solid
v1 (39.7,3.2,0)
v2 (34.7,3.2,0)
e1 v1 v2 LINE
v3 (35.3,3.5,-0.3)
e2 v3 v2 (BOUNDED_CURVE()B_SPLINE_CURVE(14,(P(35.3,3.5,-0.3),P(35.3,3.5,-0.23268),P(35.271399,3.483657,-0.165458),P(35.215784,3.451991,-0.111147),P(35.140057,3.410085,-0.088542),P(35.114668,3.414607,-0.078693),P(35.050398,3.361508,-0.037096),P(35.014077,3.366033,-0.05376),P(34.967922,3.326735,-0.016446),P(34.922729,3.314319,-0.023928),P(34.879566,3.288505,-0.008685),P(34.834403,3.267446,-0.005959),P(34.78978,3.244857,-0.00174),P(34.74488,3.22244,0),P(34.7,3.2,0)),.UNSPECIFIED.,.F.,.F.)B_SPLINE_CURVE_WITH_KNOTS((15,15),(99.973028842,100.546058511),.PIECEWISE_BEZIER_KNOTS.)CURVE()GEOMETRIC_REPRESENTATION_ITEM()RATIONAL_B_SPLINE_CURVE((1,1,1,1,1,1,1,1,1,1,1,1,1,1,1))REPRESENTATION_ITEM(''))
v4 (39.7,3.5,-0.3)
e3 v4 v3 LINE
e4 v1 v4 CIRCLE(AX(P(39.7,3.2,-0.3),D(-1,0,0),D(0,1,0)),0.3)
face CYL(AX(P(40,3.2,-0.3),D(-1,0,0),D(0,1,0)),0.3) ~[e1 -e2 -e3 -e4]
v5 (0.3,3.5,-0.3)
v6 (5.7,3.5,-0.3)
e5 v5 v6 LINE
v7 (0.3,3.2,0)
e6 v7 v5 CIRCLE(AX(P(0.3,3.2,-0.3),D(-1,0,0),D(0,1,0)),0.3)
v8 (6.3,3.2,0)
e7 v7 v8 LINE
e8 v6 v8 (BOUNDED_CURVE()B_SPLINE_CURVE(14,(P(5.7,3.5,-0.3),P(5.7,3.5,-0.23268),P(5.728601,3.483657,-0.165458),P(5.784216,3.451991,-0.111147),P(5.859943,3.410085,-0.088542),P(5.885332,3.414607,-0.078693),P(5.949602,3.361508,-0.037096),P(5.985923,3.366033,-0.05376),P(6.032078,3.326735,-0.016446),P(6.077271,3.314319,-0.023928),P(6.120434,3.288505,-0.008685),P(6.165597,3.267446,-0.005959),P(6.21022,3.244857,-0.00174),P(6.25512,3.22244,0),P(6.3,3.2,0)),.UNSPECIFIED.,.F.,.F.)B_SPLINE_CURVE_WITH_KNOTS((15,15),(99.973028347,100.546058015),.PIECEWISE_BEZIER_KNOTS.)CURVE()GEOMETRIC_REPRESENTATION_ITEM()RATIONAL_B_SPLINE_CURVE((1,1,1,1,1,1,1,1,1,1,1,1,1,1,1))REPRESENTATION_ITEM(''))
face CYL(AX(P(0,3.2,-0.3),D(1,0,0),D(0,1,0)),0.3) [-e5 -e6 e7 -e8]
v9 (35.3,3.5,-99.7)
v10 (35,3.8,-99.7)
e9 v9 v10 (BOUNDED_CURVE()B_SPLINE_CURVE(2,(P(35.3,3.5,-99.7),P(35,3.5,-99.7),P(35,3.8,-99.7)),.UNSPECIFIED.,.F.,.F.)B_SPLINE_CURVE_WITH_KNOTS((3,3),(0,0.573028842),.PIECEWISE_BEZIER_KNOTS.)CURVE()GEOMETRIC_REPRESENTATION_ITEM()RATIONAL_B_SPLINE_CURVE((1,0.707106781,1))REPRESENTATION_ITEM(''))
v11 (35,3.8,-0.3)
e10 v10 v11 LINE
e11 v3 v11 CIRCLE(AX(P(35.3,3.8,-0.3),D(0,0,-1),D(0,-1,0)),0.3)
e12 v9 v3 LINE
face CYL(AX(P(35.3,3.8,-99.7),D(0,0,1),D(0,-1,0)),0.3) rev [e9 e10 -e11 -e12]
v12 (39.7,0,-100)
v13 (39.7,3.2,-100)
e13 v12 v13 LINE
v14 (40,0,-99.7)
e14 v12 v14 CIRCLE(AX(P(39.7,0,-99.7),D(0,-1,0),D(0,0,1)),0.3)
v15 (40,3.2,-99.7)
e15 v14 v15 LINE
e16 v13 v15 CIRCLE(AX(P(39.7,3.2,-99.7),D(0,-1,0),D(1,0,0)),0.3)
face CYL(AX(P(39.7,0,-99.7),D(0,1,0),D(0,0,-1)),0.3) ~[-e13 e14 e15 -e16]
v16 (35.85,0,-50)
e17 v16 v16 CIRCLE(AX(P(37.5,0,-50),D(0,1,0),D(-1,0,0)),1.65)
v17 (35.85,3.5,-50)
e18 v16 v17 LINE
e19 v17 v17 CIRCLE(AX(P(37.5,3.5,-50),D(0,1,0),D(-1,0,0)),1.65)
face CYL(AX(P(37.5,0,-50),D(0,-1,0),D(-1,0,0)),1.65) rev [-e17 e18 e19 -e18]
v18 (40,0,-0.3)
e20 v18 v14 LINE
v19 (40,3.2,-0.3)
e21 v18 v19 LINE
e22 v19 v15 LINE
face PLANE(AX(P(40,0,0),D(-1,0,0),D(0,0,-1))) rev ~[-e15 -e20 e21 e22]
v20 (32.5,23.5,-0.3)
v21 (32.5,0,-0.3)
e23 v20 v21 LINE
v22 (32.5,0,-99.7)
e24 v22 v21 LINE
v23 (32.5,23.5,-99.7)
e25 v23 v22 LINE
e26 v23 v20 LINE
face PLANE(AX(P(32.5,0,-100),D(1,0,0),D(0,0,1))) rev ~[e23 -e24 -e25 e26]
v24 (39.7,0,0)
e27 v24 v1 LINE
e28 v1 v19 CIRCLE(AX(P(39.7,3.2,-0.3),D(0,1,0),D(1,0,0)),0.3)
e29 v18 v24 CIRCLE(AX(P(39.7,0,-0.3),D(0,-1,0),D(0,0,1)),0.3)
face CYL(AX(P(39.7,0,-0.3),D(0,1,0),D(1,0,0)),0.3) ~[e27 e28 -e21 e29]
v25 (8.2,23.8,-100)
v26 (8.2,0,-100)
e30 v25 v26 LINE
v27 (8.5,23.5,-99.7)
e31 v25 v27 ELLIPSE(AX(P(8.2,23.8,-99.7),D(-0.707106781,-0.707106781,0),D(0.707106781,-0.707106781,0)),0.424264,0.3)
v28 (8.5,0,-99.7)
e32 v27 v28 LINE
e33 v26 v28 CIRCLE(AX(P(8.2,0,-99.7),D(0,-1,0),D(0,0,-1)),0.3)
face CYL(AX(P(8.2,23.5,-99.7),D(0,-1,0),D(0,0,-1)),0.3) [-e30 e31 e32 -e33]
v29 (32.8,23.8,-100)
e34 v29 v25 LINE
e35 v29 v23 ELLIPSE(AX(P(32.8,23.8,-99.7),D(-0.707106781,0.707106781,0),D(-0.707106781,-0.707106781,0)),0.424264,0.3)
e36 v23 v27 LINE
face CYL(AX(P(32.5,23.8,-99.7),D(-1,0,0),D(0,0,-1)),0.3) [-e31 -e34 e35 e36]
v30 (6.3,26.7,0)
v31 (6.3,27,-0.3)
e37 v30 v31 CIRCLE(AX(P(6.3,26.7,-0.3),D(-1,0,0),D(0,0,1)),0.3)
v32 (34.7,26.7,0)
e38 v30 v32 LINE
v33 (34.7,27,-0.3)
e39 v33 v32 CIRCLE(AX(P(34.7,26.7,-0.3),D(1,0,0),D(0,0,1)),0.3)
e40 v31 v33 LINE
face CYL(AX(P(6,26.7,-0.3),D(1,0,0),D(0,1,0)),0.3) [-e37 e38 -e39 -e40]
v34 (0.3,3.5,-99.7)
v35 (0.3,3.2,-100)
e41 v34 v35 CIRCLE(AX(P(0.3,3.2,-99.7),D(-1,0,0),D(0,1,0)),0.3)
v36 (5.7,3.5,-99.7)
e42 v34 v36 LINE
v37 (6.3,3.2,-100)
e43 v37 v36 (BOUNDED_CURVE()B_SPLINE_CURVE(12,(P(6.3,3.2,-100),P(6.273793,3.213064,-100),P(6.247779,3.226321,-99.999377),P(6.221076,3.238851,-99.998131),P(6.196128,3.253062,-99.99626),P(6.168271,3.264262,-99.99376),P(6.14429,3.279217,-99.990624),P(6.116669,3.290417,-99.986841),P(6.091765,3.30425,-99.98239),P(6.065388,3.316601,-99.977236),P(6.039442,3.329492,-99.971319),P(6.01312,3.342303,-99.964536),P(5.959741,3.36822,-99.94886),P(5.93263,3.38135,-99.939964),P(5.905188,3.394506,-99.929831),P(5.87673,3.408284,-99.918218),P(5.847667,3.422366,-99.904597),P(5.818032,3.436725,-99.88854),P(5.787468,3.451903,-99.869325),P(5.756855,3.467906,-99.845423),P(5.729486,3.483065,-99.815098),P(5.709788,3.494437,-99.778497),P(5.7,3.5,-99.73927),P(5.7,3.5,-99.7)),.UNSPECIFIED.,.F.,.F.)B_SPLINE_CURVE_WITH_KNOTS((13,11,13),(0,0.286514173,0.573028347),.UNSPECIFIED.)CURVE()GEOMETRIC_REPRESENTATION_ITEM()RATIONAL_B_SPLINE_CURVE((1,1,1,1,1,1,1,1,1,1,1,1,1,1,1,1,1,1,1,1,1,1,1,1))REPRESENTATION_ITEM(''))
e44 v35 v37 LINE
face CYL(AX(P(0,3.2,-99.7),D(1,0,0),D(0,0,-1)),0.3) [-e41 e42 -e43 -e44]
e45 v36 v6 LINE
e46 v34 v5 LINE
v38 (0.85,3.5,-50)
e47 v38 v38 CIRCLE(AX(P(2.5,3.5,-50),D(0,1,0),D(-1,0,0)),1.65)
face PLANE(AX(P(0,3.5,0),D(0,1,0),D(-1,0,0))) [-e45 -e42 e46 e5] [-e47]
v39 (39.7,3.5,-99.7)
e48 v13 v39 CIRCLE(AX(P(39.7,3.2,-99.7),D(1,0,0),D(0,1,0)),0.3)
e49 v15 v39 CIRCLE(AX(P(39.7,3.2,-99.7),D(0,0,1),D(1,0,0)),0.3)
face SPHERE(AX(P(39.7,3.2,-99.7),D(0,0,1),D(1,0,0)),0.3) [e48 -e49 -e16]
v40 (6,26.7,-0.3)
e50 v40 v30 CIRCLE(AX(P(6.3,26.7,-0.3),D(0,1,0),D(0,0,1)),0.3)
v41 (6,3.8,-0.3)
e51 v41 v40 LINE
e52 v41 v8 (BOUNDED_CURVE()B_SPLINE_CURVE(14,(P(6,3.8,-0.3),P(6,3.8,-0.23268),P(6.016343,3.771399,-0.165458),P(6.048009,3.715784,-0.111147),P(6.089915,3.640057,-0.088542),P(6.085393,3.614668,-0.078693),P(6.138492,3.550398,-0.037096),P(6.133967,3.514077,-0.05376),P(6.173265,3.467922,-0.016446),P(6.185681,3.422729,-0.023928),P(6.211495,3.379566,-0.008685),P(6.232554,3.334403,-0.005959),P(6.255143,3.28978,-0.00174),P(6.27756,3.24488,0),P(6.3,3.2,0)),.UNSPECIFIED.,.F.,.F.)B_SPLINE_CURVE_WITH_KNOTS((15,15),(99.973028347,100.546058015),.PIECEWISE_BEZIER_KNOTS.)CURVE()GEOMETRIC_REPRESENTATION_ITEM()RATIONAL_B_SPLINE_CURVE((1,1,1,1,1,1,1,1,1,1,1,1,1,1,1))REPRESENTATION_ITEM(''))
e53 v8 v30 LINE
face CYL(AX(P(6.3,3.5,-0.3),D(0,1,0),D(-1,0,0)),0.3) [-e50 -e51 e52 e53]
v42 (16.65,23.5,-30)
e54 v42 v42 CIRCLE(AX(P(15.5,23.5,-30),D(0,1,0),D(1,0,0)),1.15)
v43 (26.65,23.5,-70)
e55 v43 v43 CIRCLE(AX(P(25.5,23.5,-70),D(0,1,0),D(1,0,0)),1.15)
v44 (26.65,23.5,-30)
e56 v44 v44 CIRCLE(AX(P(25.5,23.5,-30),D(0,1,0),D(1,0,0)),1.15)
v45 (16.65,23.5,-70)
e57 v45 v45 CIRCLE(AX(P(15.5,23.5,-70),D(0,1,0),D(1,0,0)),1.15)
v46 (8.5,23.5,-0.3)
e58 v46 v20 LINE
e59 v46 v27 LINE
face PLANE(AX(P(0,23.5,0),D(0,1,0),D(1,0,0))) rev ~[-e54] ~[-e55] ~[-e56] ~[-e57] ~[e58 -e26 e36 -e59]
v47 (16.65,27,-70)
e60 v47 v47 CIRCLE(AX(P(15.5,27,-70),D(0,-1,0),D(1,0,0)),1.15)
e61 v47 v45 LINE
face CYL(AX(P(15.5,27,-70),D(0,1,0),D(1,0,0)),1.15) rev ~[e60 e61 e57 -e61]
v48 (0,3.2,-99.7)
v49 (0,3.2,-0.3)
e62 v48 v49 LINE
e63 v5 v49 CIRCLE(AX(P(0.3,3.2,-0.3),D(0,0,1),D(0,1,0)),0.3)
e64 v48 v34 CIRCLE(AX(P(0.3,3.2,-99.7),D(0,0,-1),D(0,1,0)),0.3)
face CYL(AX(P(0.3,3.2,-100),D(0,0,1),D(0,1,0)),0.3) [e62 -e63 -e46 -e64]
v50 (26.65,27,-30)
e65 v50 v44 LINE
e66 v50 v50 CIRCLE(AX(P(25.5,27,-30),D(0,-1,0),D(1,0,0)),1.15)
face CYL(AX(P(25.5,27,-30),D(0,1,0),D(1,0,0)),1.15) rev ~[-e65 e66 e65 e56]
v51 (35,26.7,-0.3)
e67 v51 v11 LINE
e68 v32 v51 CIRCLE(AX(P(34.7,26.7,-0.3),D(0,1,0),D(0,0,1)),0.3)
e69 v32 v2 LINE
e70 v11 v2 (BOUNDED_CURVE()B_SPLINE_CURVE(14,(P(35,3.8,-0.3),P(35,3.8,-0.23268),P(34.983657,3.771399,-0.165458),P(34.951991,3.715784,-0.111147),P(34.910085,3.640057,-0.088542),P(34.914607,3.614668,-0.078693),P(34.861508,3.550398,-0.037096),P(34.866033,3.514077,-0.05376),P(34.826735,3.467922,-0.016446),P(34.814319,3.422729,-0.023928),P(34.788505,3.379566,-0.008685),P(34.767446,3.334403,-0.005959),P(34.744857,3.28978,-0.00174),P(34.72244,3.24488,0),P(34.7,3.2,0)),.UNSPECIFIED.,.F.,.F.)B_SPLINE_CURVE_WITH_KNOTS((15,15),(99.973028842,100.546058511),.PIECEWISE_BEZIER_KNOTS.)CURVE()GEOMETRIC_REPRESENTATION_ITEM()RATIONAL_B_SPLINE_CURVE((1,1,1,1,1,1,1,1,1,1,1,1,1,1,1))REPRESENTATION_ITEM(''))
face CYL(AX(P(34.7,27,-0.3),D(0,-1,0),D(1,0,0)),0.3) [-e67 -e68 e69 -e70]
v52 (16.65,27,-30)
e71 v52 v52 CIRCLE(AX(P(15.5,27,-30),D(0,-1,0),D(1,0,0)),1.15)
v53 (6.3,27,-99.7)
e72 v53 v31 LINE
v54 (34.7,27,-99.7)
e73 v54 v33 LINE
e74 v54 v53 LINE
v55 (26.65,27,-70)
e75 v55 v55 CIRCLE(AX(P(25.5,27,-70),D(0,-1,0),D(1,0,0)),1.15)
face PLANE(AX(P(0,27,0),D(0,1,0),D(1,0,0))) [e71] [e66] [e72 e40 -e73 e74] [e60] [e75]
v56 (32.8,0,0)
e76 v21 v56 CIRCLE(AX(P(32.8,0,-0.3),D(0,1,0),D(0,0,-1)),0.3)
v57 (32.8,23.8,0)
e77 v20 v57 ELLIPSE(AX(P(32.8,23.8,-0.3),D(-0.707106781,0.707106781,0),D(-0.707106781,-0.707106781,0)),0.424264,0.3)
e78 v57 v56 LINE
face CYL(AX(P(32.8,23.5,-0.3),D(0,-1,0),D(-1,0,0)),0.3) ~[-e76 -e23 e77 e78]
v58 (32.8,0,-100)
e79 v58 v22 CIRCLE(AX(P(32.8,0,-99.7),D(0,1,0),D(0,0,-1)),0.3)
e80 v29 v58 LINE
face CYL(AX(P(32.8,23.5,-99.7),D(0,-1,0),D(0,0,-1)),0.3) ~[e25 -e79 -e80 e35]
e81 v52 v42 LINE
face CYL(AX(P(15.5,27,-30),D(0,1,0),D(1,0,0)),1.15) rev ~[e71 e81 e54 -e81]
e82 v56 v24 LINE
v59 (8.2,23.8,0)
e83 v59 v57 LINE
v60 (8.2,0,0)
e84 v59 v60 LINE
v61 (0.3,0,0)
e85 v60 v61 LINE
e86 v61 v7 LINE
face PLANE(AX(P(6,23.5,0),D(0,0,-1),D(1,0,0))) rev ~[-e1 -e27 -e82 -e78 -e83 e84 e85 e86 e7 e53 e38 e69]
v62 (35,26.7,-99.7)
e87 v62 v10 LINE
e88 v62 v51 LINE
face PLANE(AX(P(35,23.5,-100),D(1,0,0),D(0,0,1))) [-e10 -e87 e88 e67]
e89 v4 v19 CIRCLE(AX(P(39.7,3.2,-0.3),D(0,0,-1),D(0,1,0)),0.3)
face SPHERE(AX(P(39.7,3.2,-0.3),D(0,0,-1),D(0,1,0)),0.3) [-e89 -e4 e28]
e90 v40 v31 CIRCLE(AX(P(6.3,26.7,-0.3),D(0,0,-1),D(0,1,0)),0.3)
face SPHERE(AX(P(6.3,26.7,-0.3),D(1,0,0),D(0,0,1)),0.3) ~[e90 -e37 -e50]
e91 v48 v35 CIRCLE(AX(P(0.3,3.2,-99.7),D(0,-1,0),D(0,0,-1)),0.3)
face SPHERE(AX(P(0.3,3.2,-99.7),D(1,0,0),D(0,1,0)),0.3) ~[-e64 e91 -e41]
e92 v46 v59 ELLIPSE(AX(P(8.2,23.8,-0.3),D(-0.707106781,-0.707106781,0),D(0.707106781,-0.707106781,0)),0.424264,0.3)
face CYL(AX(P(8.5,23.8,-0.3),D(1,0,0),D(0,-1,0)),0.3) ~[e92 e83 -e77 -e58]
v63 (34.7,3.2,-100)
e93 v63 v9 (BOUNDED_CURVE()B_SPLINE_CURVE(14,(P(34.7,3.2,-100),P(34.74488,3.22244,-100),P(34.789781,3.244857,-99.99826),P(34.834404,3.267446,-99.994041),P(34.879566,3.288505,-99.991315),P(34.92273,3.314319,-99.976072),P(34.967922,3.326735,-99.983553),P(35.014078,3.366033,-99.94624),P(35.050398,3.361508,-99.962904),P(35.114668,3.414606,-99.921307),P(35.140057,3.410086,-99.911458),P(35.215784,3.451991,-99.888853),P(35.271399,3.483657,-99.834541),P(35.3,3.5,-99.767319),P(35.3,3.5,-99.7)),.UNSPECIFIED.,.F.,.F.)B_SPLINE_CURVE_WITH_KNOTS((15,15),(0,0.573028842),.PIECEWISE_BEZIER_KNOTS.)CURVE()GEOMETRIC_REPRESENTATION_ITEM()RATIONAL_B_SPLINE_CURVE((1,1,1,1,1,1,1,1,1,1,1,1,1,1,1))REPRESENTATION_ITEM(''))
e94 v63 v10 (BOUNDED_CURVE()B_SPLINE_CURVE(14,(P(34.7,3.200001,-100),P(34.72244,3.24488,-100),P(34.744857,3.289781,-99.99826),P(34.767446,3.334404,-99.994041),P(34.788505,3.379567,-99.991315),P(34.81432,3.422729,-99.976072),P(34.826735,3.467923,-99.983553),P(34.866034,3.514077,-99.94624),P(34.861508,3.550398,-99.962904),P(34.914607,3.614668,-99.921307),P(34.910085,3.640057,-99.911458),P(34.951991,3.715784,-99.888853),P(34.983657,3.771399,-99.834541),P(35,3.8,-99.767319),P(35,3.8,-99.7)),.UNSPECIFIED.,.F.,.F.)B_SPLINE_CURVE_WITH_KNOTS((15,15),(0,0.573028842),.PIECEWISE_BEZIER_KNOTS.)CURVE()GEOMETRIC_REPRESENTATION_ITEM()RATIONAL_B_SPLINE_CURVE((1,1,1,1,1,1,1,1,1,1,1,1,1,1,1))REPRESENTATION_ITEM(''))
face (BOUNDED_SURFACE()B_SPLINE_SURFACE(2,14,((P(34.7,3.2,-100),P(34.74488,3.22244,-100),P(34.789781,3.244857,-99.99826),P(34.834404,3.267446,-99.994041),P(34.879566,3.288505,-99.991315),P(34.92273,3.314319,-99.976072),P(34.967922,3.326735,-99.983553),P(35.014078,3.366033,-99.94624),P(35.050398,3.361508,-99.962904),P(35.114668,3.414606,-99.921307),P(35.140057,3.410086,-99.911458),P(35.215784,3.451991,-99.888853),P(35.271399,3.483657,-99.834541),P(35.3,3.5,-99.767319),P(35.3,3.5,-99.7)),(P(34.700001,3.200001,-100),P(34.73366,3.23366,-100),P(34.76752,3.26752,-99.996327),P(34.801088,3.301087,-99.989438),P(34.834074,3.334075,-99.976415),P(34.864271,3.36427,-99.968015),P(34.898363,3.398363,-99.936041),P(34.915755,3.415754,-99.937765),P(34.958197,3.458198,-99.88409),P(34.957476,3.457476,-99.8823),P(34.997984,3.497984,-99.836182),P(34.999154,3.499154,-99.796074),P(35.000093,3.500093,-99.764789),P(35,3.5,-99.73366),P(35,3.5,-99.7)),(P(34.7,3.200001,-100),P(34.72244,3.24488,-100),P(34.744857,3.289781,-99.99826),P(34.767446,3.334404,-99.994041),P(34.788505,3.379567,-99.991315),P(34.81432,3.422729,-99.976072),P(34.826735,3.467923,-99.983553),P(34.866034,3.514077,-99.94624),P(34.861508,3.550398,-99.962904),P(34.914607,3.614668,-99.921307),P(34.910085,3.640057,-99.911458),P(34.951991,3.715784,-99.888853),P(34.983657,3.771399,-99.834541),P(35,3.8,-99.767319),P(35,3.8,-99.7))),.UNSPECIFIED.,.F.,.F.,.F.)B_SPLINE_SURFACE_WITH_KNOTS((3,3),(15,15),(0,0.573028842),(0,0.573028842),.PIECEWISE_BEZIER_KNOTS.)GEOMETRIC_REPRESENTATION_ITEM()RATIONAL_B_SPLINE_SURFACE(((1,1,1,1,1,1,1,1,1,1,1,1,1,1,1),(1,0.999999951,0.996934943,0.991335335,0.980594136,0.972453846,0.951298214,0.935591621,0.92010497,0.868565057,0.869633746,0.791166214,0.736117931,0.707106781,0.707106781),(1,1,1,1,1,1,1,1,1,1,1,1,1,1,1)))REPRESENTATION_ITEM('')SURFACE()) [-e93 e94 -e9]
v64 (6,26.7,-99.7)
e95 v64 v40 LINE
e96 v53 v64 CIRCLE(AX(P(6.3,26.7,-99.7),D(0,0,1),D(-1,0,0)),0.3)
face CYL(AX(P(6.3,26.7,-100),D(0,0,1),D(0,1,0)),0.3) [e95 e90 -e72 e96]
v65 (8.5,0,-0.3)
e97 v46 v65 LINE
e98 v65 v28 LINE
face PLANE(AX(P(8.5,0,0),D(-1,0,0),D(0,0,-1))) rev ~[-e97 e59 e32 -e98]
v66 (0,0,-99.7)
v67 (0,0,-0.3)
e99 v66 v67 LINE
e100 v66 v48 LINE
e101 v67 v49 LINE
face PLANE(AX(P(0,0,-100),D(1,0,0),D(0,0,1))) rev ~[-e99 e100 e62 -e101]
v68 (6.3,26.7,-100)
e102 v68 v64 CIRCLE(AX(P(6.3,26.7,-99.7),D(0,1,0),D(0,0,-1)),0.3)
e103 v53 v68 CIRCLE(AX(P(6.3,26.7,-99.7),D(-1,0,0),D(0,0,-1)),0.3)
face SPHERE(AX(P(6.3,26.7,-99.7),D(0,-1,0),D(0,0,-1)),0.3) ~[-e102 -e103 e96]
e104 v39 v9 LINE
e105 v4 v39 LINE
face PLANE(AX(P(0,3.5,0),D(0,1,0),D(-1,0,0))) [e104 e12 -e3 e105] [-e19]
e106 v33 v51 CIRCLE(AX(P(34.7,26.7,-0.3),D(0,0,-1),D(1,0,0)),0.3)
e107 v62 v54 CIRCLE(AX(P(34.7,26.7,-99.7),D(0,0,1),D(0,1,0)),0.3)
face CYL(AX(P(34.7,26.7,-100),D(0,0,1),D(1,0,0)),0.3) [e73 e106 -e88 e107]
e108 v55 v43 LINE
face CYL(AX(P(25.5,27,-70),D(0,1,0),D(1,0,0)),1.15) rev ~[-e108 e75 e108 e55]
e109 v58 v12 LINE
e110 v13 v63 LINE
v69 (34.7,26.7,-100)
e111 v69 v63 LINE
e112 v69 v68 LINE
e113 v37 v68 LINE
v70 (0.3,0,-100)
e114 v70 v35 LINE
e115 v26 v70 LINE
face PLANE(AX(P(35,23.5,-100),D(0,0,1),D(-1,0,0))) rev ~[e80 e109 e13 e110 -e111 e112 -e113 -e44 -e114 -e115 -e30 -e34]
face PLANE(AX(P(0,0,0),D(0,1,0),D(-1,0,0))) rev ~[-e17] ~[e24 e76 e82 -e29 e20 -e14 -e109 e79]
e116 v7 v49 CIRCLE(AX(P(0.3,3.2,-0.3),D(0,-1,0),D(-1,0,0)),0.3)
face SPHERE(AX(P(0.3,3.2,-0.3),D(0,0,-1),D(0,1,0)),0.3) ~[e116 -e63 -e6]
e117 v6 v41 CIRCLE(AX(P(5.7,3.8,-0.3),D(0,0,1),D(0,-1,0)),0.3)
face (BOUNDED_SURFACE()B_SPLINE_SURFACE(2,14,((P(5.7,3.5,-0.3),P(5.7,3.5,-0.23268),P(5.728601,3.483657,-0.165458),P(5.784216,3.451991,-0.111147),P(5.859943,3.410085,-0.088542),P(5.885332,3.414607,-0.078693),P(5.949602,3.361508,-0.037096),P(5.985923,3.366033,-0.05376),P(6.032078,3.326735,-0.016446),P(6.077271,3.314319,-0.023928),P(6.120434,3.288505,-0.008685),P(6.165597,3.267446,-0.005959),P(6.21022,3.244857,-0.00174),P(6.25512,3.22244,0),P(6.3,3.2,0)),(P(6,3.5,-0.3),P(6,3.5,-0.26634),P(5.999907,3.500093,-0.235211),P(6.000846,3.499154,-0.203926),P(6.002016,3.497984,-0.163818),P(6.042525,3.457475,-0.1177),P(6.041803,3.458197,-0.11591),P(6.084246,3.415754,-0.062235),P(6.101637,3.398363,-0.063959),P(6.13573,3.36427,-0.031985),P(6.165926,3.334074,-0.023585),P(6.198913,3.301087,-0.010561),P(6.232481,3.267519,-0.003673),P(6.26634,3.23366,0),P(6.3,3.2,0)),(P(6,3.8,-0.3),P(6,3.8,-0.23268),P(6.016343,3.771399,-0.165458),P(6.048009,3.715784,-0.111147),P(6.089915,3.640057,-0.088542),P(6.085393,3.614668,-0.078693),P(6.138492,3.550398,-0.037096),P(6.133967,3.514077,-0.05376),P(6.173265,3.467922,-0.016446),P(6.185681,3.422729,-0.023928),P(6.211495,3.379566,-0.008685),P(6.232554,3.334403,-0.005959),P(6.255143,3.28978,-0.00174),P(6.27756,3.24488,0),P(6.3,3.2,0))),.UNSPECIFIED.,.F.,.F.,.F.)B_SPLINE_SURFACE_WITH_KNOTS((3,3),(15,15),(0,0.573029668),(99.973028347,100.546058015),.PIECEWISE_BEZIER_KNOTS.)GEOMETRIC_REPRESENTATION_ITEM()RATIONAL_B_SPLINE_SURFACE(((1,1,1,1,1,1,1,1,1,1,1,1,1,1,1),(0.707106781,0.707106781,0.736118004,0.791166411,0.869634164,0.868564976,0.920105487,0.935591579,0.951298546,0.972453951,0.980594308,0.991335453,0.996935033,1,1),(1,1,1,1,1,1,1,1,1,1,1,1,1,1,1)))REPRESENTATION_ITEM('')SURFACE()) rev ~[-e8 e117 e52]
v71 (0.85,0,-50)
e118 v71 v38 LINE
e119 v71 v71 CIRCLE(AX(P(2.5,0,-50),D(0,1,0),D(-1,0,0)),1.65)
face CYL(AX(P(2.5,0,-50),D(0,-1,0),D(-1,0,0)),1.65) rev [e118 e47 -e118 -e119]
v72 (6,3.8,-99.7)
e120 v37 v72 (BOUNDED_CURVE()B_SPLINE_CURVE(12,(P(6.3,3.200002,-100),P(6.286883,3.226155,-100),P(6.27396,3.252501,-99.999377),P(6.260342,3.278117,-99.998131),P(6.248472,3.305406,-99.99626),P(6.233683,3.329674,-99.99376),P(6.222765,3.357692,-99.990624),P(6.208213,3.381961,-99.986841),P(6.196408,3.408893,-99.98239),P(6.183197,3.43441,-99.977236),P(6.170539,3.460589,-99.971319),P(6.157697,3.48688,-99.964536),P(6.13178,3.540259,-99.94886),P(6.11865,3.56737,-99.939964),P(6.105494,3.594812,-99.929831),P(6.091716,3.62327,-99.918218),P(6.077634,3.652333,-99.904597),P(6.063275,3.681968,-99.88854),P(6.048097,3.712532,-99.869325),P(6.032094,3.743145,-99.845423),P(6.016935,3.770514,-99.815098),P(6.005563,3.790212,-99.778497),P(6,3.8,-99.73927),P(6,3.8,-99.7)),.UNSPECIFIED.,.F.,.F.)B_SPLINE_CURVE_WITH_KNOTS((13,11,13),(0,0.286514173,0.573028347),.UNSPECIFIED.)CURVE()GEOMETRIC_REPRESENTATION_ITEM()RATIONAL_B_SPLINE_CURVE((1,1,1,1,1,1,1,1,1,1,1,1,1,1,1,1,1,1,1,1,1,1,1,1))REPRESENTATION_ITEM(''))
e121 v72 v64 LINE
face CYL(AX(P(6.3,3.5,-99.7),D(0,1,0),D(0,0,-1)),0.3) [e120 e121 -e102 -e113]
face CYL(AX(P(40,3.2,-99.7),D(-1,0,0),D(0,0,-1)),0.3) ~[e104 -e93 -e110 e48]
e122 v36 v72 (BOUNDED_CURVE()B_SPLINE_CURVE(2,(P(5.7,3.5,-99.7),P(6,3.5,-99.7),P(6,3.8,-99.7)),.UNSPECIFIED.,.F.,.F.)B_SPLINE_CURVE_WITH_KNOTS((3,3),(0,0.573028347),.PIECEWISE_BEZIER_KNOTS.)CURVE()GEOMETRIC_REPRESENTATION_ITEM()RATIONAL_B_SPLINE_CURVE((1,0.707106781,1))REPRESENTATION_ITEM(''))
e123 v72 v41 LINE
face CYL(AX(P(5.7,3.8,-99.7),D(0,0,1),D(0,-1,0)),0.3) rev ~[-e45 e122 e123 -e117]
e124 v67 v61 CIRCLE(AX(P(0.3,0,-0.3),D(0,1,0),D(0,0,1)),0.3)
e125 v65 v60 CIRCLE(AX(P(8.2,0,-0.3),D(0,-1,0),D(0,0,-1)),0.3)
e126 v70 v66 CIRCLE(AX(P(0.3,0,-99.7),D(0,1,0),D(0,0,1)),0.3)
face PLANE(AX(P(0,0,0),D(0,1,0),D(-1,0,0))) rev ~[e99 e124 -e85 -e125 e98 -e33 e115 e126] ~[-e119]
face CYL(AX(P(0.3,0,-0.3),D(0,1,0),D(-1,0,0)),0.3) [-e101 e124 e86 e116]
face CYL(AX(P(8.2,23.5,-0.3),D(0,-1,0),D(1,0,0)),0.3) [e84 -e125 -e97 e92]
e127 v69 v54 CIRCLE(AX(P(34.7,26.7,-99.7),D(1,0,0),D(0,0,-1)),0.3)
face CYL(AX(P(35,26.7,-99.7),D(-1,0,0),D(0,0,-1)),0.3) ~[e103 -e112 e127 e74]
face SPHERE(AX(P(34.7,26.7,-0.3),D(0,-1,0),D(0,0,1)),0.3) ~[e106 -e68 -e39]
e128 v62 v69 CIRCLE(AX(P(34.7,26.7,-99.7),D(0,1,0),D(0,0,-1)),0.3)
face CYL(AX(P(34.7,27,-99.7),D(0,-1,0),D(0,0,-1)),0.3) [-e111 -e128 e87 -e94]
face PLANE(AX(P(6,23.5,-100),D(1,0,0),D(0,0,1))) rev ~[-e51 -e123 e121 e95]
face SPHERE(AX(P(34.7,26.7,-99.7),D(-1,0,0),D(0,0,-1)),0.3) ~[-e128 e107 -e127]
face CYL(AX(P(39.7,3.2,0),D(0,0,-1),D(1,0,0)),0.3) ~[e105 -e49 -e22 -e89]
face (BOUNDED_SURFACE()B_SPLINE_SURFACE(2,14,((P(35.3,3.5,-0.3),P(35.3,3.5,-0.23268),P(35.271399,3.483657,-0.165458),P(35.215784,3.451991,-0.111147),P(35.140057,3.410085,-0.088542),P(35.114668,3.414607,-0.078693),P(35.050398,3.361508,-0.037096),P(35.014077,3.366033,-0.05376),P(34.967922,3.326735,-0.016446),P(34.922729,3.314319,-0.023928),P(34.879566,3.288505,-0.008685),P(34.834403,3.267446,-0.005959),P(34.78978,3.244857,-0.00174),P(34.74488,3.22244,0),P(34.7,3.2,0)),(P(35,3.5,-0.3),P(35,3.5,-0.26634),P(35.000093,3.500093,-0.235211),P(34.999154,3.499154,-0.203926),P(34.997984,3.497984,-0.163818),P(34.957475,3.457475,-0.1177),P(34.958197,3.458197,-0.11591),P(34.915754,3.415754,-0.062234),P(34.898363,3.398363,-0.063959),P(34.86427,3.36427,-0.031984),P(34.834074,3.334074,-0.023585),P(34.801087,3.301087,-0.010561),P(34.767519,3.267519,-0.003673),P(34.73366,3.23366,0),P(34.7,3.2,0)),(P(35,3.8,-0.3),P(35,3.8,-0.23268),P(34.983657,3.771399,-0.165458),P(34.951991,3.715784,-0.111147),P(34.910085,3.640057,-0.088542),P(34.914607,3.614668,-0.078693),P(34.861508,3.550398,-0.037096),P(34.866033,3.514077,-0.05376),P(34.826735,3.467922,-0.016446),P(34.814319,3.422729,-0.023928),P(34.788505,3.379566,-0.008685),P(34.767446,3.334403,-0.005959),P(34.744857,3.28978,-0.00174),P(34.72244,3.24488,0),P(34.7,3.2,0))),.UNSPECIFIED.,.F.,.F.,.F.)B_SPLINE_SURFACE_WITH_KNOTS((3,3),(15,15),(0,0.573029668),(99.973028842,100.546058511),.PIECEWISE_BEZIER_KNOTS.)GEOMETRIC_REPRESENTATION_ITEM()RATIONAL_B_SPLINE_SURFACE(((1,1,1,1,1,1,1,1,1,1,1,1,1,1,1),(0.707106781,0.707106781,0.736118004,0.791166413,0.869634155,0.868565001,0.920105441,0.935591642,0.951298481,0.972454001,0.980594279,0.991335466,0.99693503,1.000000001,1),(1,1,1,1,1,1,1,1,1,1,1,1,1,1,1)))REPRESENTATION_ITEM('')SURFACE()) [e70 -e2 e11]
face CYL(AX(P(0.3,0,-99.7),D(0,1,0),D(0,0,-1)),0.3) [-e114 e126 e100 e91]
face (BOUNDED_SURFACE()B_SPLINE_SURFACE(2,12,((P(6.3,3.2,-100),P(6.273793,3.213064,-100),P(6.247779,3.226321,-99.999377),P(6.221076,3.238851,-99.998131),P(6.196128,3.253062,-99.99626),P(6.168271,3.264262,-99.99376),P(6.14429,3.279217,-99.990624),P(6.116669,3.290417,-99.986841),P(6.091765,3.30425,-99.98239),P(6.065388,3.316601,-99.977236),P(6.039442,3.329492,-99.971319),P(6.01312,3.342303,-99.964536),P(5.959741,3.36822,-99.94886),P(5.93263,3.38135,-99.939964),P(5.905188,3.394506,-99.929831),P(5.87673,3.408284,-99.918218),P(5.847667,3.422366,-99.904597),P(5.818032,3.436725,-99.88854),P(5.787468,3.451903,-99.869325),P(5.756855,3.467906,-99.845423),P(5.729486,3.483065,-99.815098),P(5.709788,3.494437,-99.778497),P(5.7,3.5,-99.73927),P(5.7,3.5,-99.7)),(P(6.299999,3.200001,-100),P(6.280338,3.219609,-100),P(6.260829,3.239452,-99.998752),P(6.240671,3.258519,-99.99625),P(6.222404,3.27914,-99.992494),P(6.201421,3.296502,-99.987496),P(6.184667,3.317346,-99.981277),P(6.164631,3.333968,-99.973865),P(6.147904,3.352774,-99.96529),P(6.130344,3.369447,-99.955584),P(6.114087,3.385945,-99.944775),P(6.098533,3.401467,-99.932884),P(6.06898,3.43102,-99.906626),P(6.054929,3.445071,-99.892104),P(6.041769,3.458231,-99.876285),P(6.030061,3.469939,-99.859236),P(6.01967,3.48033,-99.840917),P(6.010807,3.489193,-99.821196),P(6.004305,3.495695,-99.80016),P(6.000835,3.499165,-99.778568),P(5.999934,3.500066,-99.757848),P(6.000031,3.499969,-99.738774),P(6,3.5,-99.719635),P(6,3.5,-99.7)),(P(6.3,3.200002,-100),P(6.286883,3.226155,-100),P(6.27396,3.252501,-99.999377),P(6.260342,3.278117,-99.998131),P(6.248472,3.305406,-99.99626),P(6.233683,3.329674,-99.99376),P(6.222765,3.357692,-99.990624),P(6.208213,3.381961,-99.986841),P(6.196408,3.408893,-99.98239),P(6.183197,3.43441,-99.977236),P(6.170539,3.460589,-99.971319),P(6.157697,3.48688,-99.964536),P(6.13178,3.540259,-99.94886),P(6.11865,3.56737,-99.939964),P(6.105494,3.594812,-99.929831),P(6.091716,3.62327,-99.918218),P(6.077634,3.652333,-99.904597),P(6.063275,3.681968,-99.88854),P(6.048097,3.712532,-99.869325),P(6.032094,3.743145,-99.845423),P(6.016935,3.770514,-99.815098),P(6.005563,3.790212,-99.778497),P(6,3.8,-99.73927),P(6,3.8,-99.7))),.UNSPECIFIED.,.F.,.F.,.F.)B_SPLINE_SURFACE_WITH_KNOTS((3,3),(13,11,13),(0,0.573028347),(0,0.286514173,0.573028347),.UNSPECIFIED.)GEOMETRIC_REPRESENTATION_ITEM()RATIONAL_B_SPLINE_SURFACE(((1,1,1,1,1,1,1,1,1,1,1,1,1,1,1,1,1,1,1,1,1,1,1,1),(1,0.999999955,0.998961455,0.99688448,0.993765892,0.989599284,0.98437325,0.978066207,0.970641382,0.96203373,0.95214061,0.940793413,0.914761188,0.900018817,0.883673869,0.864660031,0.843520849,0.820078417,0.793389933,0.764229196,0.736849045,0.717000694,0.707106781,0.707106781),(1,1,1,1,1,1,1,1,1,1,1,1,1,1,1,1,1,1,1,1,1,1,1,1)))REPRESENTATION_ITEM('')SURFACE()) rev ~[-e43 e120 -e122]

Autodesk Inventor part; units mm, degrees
ref_plane "YZ Plane" through (0, 0, 0) normal (1, 0, 0) x (0, 1, 0)
ref_plane "XZ Plane" through (0, 0, 0) normal (0, 1, 0) x (-1, 0, 0)
ref_plane "XY Plane" through (0, 0, 0) normal (0, 0, 1) x (1, 0, 0)
sketch "Sketch1" plane through (0, 0, 0) normal (0, 1, 0) x (-1, 0, 0)
  line L0 (-40, 0) -> (-40, -100)
  line L1 (0, -100) -> (0, 0)
  line L2 (-35, 0) -> (-35, -100)
  line L3 (-6, -100) -> (-6, 0)
  circle A0 centre (-2.5, -50) radius 1.65
  circle A1 centre (-37.5, -50) radius 1.65
  line L4 (0, 0) -> (-8.5, 0)
  line L5 (-32.5, 0) -> (-40, 0)
  line L6 (-40, -100) -> (-32.5, -100)
  line L7 (-8.5, -100) -> (0, -100)
  line L8 (-8.5, 0) -> (-8.5, -100)
  line L9 (-32.5, -100) -> (-32.5, 0)
  dimension "d4" = 3.3
  dimension "d5" = 3.3
  dimension "d8" = 2.5
  dimension "d9" = 2.5
extrude "Extrusion1" add sketch "Sketch1" along normal blind 3.5
sketch "Sketch2" plane through (0, 3.5, 0) normal (0, 1, 0) x (1, 0, 0)
  line L0 (8.5, 100) -> (0, 100) projected
  line L1 (8.5, 100) -> (6, 100)
  line L2 (6, 100) -> (6, 0)
  line L3 (6, 0) -> (8.5, 0)
  line L4 (8.5, 0) -> (8.5, 100)
  line L5 (32.5, 100) -> (32.5, 0) projected
  line L6 (32.5, 100) -> (35, 100)
  line L7 (35, 100) -> (35, 0)
  line L8 (35, 0) -> (32.5, 0)
  line L9 (32.5, 0) -> (32.5, 100)
  point P0 (0, 0)
  point P1 (32.5, 0)
  point P2 (6, 100)
  dimension "d10" = 2.5
  dimension "d11" = 100
  dimension "d12" = 2.5
  dimension "d13" = 100
extrude "Extrusion2" add sketch "Sketch2" along normal blind 20
sketch "Sketch3" plane through (0, 23.5, 0) normal (0, 1, 0) x (1, 0, 0)
  line L0 (6, 100) -> (6, 0) projected
  line L1 (35, 100) -> (35, 0) projected
  line L2 (6, 0) -> (35, 0)
  line L3 (35, 0) -> (35, 100)
  line L4 (35, 100) -> (6, 100)
  line L5 (6, 100) -> (6, 0)
  point P0 (0, 0)
  point P1 (35, 0)
  point P2 (6, 100)
extrude "Extrusion3" add sketch "Sketch3" along normal blind 3.5
sketch "Sketch4" plane through (0, 27, 0) normal (0, 1, 0) x (1, 0, 0)
  circle A0 centre (9.75, 80.75) radius 1.15
  circle A1 centre (30.25, 80.75) radius 1.15
  circle A2 centre (9.75, 19.25) radius 1.15
  circle A3 centre (30.25, 19.25) radius 1.15
  line L0 (15.5, 70) -> (25.5, 70)
  line L1 (25.5, 70) -> (25.5, 30)
  line L2 (25.5, 30) -> (15.5, 30)
  line L3 (15.5, 30) -> (15.5, 70)
  circle A4 centre (15.5, 70) radius 1.15
  circle A5 centre (25.5, 70) radius 1.15
  circle A6 centre (15.5, 30) radius 1.15
  circle A7 centre (25.5, 30) radius 1.15
  dimension "d29" = 10
  dimension "d30" = 40
extrude "Extrusion4" cut sketch "Sketch4" against normal blind 3.5 contours L3 A4 L0 | L0 A4 L3 | A5 L1 L0 | L0 L1 A5 | A6 L2 L3 | L3 L2 A6 | A7 L2 L1 | L1 L2 A7
fillet "Fillet1" radius 0.3 24 edges at (6, 15.25, -100) (3, 3.5, -100) (20.5, 27, -100) (8.5, 11.75, -100) (20.5, 23.5, -100) (35, 15.25, -100) (32.5, 11.75, -100) (32.5, 11.75, 0) (35, 15.25, 0) (20.5, 27, 0) (20.5, 23.5, 0) (8.5, 11.75, 0) (6, 15.25, 0) (6, 27, -50) (35, 27, -50) (0, 3.5, -50) (40, 3.5, -50) (37.5, 3.5, 0) (3, 3.5, 0) (0, 1.75, 0) (40, 1.75, 0) (40, 1.75, -100) (37.5, 3.5, -100) (0, 1.75, -100)
fillet "Fillet2" radius 0.3 6 edges at (6.0879, 3.4121, -99.9121) (6.0879, 3.4121, -0.0879) (6, 3.5, -50) (34.9121, 3.4121, -0.0879) (34.9121, 3.4121, -99.9121) (35, 3.5, -50)
properties part number "controllerHousing"
